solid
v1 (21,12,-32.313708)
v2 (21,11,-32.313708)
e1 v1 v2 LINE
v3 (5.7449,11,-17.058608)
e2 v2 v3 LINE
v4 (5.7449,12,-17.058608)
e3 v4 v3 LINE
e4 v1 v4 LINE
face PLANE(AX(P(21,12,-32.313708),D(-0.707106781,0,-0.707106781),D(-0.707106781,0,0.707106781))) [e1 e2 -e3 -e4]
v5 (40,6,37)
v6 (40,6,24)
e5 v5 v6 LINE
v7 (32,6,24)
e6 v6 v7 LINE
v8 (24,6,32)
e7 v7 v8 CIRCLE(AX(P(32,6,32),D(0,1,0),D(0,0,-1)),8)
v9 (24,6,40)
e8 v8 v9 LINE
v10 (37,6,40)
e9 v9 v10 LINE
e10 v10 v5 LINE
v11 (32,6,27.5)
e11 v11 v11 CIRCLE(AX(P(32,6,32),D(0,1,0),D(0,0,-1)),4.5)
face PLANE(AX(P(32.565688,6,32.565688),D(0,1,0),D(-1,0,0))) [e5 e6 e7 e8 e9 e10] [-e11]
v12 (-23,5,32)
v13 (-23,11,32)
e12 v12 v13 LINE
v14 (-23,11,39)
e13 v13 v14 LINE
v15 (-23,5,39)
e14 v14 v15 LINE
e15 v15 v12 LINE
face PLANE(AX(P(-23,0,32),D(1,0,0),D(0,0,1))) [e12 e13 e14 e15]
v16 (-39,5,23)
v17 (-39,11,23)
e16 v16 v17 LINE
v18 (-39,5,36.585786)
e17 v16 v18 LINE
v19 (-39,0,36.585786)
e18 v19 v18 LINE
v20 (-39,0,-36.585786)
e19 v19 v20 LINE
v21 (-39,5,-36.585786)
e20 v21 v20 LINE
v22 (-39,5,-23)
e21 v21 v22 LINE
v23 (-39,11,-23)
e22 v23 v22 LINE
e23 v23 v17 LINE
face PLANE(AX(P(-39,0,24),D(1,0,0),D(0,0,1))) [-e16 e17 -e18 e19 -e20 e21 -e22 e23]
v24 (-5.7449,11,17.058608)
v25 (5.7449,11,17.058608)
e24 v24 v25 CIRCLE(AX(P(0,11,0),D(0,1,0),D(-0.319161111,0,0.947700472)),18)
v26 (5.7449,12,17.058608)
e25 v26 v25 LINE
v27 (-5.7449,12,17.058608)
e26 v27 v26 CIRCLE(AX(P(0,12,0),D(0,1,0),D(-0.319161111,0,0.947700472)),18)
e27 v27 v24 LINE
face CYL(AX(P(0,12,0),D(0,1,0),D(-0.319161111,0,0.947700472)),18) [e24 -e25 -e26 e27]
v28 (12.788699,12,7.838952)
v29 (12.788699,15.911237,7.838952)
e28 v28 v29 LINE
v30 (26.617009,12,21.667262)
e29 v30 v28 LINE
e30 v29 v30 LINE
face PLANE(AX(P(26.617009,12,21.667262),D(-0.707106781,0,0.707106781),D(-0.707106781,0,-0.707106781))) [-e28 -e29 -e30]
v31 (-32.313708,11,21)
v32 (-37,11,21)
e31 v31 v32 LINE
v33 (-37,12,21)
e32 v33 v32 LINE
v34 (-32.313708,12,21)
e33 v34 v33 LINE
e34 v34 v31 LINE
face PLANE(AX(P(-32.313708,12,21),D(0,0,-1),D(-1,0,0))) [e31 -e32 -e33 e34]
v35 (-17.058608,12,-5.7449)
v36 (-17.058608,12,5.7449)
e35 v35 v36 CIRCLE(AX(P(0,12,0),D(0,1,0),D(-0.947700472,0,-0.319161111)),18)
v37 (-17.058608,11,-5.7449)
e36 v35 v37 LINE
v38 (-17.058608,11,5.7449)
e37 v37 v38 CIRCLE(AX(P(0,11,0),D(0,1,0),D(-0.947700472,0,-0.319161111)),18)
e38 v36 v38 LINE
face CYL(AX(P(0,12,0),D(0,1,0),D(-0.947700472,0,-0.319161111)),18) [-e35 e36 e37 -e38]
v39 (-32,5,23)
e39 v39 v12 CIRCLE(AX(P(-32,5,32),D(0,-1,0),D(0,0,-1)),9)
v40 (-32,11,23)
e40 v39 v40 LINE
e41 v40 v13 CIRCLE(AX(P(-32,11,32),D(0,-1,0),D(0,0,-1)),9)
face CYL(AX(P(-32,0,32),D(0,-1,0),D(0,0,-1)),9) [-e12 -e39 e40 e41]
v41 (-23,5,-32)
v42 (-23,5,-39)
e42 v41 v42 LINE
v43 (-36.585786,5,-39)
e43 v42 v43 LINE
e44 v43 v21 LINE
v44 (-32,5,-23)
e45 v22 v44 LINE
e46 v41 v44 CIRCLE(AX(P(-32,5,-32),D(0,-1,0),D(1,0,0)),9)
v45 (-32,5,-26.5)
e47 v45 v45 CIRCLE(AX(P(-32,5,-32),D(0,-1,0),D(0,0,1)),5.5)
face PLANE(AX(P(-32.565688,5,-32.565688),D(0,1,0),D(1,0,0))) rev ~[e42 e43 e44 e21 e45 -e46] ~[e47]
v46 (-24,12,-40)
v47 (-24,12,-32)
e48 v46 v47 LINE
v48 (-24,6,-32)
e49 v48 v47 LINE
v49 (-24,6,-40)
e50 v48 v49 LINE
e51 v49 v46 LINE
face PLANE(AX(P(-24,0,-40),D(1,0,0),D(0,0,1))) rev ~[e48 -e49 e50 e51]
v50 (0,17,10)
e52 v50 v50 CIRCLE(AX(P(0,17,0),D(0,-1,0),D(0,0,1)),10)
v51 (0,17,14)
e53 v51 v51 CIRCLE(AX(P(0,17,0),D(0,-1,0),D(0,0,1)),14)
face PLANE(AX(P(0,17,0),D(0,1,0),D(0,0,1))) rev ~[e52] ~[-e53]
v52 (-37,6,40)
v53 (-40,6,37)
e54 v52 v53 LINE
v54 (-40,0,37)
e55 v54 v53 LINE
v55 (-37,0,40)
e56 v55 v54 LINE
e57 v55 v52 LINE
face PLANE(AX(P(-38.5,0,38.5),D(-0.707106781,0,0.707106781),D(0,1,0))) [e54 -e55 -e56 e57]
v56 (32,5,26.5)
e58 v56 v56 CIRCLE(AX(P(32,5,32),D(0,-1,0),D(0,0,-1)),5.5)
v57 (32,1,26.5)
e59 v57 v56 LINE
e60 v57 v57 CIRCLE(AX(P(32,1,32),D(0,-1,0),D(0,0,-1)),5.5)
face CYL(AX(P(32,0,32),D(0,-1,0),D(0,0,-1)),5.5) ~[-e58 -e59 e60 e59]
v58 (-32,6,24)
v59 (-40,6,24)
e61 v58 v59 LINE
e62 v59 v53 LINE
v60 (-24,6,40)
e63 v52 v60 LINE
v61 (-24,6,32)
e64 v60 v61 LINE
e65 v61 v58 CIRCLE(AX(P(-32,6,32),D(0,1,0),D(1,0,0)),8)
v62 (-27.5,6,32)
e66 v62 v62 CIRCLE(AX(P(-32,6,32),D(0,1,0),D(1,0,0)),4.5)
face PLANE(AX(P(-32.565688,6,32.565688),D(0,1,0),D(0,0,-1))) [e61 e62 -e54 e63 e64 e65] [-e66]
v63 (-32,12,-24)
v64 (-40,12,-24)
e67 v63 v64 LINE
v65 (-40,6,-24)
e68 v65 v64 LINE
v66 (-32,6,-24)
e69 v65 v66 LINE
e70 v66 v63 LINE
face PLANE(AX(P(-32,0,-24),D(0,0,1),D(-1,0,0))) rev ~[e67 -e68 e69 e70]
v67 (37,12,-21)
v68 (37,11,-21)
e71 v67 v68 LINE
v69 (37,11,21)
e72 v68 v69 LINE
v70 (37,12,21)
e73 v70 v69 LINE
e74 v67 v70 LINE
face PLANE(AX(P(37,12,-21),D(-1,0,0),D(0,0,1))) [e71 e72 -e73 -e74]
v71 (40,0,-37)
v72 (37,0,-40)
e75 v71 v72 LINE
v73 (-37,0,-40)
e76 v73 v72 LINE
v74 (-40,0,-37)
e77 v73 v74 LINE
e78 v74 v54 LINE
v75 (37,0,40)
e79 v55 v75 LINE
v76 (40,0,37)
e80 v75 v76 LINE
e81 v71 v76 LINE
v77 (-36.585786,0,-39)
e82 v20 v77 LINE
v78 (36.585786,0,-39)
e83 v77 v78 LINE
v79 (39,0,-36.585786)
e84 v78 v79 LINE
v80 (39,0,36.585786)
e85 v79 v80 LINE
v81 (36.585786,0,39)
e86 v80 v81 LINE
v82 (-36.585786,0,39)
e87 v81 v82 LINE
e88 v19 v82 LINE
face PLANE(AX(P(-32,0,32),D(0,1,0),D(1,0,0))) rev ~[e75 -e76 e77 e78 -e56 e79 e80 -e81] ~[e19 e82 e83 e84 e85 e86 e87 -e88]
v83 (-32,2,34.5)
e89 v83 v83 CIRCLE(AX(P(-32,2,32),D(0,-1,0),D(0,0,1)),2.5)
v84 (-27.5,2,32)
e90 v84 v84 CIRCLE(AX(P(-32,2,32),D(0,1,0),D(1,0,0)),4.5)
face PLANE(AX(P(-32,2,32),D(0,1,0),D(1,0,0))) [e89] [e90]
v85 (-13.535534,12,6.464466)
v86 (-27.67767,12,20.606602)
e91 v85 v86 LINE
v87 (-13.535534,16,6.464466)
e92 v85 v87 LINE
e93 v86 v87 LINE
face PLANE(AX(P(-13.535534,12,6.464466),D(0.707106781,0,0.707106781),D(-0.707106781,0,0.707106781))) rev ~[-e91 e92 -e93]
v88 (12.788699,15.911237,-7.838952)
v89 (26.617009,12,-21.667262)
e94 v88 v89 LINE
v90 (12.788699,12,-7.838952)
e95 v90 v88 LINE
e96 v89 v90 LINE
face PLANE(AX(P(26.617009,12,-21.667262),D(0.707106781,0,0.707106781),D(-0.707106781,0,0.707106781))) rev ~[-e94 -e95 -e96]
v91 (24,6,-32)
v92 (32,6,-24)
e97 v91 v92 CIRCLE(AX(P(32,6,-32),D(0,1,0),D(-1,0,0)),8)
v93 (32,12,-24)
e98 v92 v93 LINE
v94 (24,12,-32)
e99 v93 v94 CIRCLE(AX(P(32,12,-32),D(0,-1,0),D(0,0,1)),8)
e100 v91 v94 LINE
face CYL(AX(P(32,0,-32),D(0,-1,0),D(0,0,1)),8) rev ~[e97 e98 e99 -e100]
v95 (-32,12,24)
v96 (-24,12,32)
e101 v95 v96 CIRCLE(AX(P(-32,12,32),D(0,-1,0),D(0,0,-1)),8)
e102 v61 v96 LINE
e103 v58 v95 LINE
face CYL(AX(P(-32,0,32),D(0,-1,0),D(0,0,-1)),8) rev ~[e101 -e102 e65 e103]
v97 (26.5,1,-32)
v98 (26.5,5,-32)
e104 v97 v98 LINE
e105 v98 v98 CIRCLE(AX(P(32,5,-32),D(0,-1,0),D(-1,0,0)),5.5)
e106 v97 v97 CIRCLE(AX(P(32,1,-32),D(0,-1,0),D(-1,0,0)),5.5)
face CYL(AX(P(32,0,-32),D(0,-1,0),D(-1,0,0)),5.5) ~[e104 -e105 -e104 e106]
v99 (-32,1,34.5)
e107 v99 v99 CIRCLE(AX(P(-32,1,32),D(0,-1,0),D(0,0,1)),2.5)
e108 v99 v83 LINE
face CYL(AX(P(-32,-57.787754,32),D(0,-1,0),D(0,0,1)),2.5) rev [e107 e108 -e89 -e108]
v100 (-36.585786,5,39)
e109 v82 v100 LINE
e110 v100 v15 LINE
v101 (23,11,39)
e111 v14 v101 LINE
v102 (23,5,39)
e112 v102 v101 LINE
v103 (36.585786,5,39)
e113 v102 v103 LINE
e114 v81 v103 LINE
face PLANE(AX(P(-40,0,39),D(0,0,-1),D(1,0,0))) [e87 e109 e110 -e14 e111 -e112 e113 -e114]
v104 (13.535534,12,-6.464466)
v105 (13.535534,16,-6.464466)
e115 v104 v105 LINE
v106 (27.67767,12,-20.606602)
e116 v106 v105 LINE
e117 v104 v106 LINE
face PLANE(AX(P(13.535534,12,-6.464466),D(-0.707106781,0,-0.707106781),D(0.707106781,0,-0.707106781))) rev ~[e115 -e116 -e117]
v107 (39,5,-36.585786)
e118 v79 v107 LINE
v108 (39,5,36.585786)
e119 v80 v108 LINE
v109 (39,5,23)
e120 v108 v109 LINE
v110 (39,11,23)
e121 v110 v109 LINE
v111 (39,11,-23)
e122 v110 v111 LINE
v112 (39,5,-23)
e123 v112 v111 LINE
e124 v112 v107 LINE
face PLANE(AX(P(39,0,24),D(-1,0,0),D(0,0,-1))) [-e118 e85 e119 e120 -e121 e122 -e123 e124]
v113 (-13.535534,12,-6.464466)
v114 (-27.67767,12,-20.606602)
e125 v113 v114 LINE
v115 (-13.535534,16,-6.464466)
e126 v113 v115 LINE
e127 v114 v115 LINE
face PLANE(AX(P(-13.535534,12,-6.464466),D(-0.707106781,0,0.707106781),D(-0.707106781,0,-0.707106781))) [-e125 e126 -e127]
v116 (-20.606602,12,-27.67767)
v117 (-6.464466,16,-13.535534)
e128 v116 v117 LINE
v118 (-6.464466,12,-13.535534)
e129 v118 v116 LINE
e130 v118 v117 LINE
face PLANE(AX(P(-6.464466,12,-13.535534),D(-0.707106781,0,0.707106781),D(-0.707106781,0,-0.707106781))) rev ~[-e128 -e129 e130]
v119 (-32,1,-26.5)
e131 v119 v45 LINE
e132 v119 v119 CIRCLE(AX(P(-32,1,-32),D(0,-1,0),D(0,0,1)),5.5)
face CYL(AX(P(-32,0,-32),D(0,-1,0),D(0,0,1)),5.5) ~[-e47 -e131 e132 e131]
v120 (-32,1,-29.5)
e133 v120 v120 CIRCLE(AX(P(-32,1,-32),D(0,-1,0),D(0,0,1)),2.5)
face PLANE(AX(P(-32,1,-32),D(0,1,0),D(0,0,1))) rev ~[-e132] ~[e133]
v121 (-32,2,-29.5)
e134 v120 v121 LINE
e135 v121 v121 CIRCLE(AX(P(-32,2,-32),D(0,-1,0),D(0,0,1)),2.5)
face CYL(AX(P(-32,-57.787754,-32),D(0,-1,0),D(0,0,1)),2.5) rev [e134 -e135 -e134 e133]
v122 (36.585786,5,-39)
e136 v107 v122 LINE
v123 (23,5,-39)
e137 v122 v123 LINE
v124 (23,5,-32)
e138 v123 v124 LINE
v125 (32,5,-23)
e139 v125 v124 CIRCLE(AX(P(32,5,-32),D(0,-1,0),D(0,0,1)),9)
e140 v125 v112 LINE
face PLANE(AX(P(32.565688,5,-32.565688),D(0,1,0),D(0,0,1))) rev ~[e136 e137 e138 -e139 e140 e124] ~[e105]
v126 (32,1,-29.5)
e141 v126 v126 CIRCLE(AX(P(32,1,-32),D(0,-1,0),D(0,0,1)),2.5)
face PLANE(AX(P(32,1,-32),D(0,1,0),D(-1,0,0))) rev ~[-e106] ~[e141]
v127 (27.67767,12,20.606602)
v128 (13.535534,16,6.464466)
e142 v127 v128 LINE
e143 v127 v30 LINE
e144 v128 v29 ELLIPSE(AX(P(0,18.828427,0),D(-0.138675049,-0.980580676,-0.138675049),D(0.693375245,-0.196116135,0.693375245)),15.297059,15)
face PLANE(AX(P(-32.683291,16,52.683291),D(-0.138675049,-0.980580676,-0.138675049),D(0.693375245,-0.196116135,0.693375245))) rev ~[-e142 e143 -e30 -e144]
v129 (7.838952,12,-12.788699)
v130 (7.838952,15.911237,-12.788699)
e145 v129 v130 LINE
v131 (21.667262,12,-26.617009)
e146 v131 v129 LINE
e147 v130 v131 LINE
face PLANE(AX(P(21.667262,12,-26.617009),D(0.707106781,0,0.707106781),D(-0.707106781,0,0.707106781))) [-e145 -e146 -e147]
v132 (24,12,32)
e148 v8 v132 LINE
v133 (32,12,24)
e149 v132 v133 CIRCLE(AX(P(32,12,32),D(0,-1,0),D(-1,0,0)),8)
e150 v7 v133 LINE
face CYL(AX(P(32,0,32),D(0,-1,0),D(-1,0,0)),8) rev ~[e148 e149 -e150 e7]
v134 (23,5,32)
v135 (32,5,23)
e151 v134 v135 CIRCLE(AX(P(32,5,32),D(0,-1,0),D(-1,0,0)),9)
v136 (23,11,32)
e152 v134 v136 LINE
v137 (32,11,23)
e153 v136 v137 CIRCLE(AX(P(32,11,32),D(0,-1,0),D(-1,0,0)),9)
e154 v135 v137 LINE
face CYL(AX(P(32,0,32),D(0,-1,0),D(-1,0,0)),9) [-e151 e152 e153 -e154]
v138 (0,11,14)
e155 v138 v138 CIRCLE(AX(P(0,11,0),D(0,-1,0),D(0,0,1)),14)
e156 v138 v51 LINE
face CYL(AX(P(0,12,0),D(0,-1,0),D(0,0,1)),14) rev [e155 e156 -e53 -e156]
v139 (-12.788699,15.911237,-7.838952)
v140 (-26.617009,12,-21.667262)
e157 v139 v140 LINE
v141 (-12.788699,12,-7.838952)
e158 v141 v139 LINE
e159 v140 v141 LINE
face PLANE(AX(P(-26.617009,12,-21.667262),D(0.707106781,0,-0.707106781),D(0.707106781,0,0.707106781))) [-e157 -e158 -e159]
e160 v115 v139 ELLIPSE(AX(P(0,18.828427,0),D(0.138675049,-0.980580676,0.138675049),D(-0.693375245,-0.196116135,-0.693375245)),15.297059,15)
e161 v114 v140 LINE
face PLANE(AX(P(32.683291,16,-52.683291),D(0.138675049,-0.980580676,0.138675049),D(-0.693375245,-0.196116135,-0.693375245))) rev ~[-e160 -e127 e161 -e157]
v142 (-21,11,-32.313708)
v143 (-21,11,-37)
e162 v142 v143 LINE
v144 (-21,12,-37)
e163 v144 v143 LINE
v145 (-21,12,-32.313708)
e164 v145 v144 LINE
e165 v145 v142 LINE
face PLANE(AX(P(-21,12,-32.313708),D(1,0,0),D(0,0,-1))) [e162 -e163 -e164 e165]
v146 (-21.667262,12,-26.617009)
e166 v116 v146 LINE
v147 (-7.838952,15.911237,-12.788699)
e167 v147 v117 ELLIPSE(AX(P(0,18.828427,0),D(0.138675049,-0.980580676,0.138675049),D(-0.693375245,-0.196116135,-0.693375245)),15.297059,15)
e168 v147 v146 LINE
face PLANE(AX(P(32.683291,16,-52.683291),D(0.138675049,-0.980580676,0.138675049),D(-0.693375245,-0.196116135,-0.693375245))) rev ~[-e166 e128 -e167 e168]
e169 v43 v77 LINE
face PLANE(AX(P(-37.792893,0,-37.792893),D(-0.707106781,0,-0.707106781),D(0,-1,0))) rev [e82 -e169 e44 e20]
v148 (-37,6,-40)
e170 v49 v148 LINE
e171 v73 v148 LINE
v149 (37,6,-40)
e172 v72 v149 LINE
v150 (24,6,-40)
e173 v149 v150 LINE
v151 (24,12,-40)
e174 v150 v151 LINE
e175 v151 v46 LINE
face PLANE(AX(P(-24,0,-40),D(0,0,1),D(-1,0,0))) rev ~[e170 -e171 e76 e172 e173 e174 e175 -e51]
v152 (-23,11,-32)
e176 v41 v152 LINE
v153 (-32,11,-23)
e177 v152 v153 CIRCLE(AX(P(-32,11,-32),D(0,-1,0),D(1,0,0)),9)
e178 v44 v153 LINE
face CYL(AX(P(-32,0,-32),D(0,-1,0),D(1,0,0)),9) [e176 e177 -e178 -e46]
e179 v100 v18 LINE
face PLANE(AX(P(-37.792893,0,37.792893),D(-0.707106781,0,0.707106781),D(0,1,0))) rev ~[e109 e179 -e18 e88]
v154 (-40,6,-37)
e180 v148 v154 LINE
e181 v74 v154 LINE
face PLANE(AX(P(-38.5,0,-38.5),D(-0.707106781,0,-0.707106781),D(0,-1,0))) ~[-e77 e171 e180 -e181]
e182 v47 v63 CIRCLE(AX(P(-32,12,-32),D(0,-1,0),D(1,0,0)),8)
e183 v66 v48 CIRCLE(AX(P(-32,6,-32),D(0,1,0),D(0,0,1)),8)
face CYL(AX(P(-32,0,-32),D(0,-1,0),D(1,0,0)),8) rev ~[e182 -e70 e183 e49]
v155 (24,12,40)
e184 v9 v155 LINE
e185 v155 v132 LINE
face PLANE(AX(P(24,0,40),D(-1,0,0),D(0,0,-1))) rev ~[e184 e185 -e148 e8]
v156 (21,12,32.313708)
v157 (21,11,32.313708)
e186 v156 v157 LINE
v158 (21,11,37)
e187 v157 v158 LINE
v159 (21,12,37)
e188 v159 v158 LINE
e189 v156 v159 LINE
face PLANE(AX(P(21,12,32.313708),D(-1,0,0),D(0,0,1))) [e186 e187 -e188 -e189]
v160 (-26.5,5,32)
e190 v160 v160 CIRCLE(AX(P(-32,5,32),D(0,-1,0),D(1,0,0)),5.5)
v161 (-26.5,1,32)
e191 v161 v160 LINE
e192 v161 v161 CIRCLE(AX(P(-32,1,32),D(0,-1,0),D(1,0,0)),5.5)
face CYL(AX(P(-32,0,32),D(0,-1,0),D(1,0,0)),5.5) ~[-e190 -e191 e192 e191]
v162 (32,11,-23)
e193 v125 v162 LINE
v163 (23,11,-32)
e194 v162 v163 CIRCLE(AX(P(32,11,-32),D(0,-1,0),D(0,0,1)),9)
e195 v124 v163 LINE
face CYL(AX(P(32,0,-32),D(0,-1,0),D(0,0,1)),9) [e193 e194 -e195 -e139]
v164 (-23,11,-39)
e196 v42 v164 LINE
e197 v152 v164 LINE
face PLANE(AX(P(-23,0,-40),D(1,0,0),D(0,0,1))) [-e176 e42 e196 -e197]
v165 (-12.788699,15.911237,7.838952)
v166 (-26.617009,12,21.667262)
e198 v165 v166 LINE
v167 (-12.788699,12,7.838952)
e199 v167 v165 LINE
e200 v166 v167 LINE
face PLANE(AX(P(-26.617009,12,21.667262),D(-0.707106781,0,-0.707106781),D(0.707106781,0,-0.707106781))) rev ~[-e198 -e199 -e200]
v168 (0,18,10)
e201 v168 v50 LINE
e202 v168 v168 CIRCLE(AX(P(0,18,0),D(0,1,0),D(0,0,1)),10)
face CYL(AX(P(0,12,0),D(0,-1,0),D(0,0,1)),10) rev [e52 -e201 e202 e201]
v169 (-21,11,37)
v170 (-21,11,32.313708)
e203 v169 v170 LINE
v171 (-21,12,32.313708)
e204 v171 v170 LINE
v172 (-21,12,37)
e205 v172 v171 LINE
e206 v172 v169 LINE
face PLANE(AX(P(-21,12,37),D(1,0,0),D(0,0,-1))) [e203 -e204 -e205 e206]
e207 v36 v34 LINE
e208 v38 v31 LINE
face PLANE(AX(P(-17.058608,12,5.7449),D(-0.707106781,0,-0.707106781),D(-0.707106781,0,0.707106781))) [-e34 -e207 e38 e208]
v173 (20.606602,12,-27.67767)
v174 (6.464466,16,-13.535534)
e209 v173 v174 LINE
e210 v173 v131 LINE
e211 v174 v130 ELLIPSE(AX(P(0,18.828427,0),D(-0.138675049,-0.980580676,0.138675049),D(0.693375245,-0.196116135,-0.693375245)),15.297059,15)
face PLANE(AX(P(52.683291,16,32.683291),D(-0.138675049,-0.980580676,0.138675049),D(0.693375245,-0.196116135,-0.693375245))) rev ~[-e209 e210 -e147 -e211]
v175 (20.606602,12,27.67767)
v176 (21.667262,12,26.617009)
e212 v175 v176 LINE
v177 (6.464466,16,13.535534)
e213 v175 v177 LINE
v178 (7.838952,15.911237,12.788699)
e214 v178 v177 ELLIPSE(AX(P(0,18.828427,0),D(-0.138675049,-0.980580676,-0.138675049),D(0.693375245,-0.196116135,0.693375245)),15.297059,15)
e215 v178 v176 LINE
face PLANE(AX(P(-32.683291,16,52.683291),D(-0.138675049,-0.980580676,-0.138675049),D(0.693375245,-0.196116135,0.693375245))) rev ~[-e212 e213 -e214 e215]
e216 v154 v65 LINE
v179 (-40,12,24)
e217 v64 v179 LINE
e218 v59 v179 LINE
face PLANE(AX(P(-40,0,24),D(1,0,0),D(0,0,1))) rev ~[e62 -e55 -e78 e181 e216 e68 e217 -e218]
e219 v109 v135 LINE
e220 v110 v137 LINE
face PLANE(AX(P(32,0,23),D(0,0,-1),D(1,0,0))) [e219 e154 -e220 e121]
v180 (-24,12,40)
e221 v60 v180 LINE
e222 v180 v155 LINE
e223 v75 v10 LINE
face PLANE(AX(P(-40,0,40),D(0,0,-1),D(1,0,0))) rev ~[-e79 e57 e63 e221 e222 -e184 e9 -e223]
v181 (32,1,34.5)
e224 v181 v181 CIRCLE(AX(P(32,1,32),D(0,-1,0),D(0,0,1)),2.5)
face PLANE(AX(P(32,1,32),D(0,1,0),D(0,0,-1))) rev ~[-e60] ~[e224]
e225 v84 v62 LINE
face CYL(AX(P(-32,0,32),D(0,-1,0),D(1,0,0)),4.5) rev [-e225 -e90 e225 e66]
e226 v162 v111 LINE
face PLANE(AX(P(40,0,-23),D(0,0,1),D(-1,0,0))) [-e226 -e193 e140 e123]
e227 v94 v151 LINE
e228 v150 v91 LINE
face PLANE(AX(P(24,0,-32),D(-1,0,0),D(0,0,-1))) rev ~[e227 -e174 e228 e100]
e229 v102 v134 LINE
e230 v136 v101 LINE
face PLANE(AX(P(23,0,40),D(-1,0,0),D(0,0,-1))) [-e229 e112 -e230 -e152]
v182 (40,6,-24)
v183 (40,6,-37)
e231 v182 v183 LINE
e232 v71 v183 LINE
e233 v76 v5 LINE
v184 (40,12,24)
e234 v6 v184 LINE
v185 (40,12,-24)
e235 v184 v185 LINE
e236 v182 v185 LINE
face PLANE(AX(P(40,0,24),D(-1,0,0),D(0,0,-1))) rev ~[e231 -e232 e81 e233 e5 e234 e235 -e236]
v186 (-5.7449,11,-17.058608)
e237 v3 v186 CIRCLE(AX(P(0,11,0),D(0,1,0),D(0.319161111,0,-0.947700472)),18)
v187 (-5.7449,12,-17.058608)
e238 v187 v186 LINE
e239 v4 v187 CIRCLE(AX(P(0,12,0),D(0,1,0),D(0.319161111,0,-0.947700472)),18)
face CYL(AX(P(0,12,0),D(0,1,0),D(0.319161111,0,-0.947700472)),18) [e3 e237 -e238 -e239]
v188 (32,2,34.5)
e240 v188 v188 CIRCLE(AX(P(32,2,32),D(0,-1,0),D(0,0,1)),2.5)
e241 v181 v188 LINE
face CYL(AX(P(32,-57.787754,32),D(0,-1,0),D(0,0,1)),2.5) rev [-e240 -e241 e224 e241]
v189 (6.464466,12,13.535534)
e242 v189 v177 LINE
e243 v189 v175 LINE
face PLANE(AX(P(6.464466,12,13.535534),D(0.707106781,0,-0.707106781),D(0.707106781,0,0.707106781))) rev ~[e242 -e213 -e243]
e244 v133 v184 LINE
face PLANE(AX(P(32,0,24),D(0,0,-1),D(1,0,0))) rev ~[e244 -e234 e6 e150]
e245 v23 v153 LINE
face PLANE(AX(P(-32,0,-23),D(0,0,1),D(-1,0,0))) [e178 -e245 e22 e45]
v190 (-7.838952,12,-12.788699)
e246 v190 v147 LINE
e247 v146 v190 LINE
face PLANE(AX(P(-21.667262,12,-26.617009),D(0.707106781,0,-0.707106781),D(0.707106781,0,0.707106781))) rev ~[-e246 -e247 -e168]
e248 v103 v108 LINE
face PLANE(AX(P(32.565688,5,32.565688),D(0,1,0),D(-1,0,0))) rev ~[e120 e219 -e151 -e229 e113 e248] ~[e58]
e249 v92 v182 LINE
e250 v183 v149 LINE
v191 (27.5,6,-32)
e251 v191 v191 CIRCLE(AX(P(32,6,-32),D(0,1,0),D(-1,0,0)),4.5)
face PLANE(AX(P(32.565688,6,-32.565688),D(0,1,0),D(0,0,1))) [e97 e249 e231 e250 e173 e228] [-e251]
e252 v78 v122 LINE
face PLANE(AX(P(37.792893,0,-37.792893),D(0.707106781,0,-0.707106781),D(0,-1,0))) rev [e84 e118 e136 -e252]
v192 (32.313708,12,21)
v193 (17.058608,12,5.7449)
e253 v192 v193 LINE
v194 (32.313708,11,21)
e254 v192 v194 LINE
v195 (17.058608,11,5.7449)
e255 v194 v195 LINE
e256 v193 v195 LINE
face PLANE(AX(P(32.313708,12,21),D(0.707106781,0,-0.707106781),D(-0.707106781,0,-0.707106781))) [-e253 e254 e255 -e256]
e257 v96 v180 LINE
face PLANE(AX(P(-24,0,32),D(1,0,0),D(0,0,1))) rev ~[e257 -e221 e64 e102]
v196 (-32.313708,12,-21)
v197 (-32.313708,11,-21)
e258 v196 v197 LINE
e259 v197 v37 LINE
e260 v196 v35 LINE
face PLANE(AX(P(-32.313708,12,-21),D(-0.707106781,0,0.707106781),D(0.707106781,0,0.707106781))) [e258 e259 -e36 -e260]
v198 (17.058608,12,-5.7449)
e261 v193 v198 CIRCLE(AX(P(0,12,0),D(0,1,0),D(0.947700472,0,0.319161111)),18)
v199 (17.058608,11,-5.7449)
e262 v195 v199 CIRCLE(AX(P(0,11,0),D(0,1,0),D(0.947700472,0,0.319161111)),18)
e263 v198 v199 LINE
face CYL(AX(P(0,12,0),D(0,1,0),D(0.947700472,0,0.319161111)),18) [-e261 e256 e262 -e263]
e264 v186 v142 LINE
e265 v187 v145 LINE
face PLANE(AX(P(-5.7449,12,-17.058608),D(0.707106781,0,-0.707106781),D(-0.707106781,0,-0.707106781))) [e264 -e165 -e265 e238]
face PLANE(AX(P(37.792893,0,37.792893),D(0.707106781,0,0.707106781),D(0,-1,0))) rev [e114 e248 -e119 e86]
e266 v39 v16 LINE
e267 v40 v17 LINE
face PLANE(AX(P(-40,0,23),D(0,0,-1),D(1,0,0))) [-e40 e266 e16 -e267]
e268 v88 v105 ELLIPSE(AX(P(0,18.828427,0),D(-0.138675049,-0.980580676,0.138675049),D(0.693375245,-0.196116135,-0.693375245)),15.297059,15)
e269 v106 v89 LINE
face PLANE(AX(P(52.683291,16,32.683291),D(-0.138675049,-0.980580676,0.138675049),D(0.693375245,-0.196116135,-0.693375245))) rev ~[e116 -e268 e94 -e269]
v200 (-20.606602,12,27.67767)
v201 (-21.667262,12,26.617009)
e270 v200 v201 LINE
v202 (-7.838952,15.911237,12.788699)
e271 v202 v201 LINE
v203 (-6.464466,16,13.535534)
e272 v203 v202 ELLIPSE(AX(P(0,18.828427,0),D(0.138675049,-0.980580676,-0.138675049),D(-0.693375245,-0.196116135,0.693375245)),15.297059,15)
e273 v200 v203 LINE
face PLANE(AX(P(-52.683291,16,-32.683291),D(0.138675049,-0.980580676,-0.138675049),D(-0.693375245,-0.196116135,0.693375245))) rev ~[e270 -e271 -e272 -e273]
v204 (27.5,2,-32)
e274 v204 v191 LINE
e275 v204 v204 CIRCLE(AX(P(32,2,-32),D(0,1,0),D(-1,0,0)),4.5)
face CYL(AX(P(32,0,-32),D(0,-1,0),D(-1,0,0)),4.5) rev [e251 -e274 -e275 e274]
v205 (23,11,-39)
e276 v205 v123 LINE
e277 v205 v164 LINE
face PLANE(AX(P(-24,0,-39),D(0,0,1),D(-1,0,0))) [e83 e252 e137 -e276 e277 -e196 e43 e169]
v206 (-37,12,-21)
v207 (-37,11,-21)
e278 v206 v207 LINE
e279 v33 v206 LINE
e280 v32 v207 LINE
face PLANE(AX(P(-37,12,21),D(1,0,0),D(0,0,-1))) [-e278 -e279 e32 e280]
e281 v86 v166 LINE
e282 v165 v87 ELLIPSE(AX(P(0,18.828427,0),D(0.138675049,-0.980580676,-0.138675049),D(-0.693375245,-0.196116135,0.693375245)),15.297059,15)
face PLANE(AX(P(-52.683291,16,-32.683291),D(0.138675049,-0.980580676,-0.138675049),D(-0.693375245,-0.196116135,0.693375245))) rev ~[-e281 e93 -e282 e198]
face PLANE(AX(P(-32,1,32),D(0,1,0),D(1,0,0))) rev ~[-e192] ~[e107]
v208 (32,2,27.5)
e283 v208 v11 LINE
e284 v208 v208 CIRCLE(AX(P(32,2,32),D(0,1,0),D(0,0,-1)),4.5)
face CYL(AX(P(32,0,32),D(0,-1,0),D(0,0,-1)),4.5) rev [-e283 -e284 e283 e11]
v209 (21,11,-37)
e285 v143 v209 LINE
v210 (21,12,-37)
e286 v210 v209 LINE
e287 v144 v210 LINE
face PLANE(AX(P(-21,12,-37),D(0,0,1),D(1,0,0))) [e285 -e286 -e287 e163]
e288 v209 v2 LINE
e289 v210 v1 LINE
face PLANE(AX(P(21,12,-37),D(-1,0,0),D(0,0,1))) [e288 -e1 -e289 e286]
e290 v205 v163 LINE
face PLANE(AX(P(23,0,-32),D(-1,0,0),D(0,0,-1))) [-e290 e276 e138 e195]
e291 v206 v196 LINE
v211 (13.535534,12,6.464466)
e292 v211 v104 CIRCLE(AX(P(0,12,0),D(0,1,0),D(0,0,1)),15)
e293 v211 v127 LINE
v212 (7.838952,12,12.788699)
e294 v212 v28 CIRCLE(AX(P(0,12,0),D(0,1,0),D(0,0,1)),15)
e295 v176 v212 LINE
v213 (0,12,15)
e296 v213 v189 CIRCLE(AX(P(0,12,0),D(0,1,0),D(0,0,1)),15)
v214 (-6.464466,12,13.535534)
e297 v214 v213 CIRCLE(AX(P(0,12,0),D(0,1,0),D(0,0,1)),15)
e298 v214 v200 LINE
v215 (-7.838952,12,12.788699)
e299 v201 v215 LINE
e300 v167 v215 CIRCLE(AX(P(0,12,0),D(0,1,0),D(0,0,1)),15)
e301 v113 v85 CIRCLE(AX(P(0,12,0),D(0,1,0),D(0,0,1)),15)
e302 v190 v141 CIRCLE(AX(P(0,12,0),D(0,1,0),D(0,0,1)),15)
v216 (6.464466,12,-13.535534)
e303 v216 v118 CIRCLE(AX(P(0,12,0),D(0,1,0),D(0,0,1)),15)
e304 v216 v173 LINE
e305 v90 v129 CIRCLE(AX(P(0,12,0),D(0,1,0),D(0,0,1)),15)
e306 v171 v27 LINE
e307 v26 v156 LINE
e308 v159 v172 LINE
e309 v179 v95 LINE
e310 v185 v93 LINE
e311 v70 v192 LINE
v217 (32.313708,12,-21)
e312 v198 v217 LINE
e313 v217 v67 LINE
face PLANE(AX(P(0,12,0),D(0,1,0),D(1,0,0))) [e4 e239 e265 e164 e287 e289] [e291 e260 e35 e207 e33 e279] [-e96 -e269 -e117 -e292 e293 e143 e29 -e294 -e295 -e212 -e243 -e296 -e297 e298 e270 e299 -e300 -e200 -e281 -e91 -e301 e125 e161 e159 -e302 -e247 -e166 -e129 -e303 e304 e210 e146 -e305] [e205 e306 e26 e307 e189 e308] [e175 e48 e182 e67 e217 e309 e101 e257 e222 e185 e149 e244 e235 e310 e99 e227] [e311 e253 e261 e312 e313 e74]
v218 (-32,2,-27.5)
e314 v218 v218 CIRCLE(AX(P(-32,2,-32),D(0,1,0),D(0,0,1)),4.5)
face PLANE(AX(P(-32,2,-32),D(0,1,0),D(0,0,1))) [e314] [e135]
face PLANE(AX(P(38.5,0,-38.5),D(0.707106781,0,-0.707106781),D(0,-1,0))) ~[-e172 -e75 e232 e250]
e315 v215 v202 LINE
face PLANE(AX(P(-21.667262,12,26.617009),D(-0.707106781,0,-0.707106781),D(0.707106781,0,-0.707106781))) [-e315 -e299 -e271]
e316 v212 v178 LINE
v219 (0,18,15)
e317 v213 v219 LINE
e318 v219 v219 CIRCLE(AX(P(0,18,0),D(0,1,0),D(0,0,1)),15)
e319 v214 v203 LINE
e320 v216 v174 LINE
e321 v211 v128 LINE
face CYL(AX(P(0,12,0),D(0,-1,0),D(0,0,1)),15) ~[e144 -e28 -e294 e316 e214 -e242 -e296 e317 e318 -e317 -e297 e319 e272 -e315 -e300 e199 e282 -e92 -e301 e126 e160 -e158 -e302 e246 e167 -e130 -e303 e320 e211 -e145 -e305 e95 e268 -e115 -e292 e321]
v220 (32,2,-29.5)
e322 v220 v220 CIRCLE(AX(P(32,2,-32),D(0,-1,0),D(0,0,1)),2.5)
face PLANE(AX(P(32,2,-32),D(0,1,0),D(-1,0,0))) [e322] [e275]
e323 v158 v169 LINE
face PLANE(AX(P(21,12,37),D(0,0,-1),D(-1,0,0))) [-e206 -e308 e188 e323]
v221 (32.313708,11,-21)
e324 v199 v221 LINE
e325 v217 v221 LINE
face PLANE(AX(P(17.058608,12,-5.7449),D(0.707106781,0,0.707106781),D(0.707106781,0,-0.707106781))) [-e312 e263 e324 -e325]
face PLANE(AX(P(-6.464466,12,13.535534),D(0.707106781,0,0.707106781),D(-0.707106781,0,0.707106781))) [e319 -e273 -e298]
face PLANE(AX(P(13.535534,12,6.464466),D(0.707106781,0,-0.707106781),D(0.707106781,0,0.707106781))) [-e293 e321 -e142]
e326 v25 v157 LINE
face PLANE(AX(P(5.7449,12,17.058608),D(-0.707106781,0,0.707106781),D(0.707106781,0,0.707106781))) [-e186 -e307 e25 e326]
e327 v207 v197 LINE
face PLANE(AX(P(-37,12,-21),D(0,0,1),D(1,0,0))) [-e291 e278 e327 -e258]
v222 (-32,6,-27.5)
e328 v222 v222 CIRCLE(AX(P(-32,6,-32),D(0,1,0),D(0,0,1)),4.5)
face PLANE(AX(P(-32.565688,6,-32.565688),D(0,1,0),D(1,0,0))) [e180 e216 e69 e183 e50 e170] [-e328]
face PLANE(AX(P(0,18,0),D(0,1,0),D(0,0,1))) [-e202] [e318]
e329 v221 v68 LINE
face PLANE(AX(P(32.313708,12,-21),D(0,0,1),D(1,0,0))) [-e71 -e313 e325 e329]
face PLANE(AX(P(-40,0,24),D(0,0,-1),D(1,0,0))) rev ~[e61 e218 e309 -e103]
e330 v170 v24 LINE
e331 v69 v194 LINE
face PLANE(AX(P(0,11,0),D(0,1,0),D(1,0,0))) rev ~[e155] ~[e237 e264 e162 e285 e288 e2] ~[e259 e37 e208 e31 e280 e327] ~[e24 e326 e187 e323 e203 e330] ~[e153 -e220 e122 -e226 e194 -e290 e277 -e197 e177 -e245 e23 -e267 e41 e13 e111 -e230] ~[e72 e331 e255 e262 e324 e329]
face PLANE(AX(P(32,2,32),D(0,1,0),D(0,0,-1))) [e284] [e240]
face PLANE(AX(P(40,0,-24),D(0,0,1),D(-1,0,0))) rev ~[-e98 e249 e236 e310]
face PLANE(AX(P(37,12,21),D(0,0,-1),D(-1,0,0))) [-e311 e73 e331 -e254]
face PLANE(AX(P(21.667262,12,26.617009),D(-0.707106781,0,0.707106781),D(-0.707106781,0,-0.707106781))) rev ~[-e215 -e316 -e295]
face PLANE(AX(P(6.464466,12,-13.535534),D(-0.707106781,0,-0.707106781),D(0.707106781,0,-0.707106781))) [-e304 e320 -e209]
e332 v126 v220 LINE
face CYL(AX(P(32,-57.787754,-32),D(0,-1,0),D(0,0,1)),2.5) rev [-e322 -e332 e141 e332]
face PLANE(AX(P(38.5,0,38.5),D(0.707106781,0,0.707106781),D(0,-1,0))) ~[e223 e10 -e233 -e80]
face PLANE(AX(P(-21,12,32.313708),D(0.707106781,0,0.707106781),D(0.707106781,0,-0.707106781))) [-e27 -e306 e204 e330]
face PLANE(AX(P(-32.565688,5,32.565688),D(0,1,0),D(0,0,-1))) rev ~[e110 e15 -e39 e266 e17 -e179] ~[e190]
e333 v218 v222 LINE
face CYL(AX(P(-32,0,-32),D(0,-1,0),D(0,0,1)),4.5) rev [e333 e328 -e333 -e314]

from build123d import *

# Parameters (mm, degrees)
SKETCH1_R               = 10
BOSS_EXTRUDE1_DEPTH     = 12
SKETCH2_R               = 15
SKETCH2_R_2             = 10
BOSS_EXTRUDE2_DEPTH     = 6
CUT_EXTRUDE1_DEPTH      = 58.827329179
CIRPATTERN1_COUNT       = 4
SKETCH1_4_R             = 4.5
BOSS_EXTRUDE3_DEPTH     = 6
SKETCH1_5_R             = 4.5
SKETCH1_5_R_2           = 3.5
SKETCH1_5_R_3           = 2.5
BOSS_EXTRUDE4_DEPTH     = 2
CIRPATTERN2_COUNT       = 4
CHAMFER3_SIZE           = 3
SHELL1_T                = -1
CUT_EXTRUDE3_START      = -11
SKETCH9_R               = 11
CUT_EXTRUDE3_DEPTH      = 11
SKETCH10_R              = 11
CUT_EXTRUDE4_DEPTH      = 6
BOSS_EXTRUDE5_DEPTH     = 6
BOSS_EXTRUDE5_2_DEPTH   = 6
CUT_EXTRUDE7_DEPTH      = 60.363288319
CUT_EXTRUDE7_DEPTH_BACK = 60.363288319
SKETCH14_OUTSIDE_W      = 138.05
SKETCH14_OUTSIDE_H      = 42.912
CIRPATTERN5_COUNT       = 4
CUT_EXTRUDE8_DEPTH      = 59.787753827
CUT_EXTRUDE8_DEPTH_BACK = 59.787753827
SKETCH15_R              = 2.5


with BuildPart() as part:
    # Sketch1 → Boss-Extrude1 (new body)
    with BuildSketch(Plane(origin=(0, 0, 0), x_dir=(1, 0, 0), z_dir=(0, 1, 0))):
        with BuildLine():
            Line((24, 40), (-24, 40))
            Line((-24, 40), (-24, 32))
            ThreePointArc((-24, 32), (-26.343145751, 26.343145751), (-32, 24))
            Line((-32, 24), (-40, 24))
            Line((-40, 24), (-40, -24))
            Line((-40, -24), (-32, -24))
            ThreePointArc((-32, -24), (-26.343145751, -26.343145751), (-24, -32))
            Line((-24, -32), (-24, -40))
            Line((-24, -40), (24, -40))
            Line((24, -40), (24, -32))
            ThreePointArc((24, -32), (26.343145751, -26.343145751), (32, -24))
            Line((32, -24), (40, -24))
            Line((40, -24), (40, 24))
            Line((40, 24), (32, 24))
            ThreePointArc((32, 24), (26.343145751, 26.343145751), (24, 32))
            Line((24, 32), (24, 40))
        make_face()
        with Locations(Location((0, 0, 0), (0, 0, 270))):
            Circle(SKETCH1_R, mode=Mode.SUBTRACT)
    extrude(amount=BOSS_EXTRUDE1_DEPTH)

    # Sketch2 → Boss-Extrude2 (add)
    with BuildSketch(Plane(origin=(0, 12, 0), x_dir=(1, 0, 0), z_dir=(0, 1, 0))):
        with Locations(Location((0, 0, 0), (0, 0, 270))):
            Circle(SKETCH2_R)
        with Locations(Location((0, 0, 0), (0, 0, 270))):
            Circle(SKETCH2_R_2, mode=Mode.SUBTRACT)
    extrude(amount=BOSS_EXTRUDE2_DEPTH)

    # Sketch3 → Cut-Extrude1 (cut, through all)
    with BuildSketch(Plane(origin=(0, 12, 0), x_dir=(1, 0, 0), z_dir=(0, 1, 0))):
        with BuildLine():
            Line((21, -37), (-21, -37))
            Line((-21, -37), (-21, -32.313708499))
            Line((-21, -32.313708499), (-5.744900001, -17.0586085))
            ThreePointArc((-5.744900001, -17.0586085), (0, -18), (5.744900001, -17.0586085))
            Line((5.744900001, -17.0586085), (21, -32.313708499))
            Line((21, -32.313708499), (21, -37))
        make_face()
    cut_extrude1 = extrude(amount=-CUT_EXTRUDE1_DEPTH, mode=Mode.SUBTRACT)

    # CirPattern1: Cut-Extrude1 ×4 about axis
    cirpattern1_axis = Axis((0, 0, 0), (0, 1, 0))
    for i in range(1, CIRPATTERN1_COUNT):
        add(cut_extrude1.rotate(cirpattern1_axis, i * 360 / CIRPATTERN1_COUNT), mode=Mode.SUBTRACT)

    # Sketch1<4> → Boss-Extrude3 (add)
    with BuildSketch(Plane(origin=(0, 0, 0), x_dir=(1, 0, 0), z_dir=(0, 1, 0))):
        with BuildLine():
            Line((-24, 32), (-24, 40))
            Line((-24, 40), (-40, 40))
            Line((-40, 40), (-40, 24))
            Line((-40, 24), (-32, 24))
            ThreePointArc((-32, 24), (-26.343145751, 26.343145751), (-24, 32))
        make_face()
        with Locations(Location((-32, 32, 0), (0, 0, 270))):
            Circle(SKETCH1_4_R, mode=Mode.SUBTRACT)
    boss_extrude3 = extrude(amount=BOSS_EXTRUDE3_DEPTH)

    # Sketch1<5> → Boss-Extrude4 (add)
    # profile 1 of 3: a face of its own
    with BuildSketch(Plane(origin=(0, 0, 0), x_dir=(1, 0, 0), z_dir=(0, 1, 0))):
        with Locations(Location((-32, 32, 0), (0, 0, 270))):
            Circle(SKETCH1_5_R)
        with Locations((-32, 32)):
            Circle(SKETCH1_5_R_2, mode=Mode.SUBTRACT)
    # profile 2 of 3: a face of its own
    with BuildSketch(Plane(origin=(0, 0, 0), x_dir=(1, 0, 0), z_dir=(0, 1, 0))):
        with Locations((-32, 32)):
            Circle(SKETCH1_5_R_2)
        with Locations((-32, 32)):
            Circle(SKETCH1_5_R_3, mode=Mode.SUBTRACT)
    # profile 3 of 3: a face of its own
    with BuildSketch(Plane(origin=(0, 0, 0), x_dir=(1, 0, 0), z_dir=(0, 1, 0))):
        with Locations((-32, 32)):
            Circle(SKETCH1_5_R_3)
    boss_extrude4 = extrude(amount=BOSS_EXTRUDE4_DEPTH)

    # CirPattern2: Boss-Extrude3, Boss-Extrude4 ×4 about axis
    cirpattern2_axis = Axis((0, 0, 0), (0, 1, 0))
    add([boss_extrude3.rotate(cirpattern2_axis, i * 360 / CIRPATTERN2_COUNT) for i in range(1, CIRPATTERN2_COUNT)])
    add([boss_extrude4.rotate(cirpattern2_axis, i * 360 / CIRPATTERN2_COUNT) for i in range(1, CIRPATTERN2_COUNT)])

    # Chamfer3
    chamfer3_edges = [part.edges().sort_by_distance(p)[0] for p in [
        (-40, 3, -40),
        (40, 3, -40),
        (40, 3, 40),
        (-40, 3, 40),
    ]]
    chamfer(chamfer3_edges, length=CHAMFER3_SIZE)

    # Shell1
    shell1_openings = [part.faces().sort_by_distance(p)[0] for p in [
        (0, 0, -28.947670916),
    ]]
    offset(amount=SHELL1_T, openings=shell1_openings, kind=Kind.INTERSECTION)

    # Sketch9 → Cut-Extrude3 (cut)
    with BuildSketch(Plane.XZ.offset(CUT_EXTRUDE3_START)):
        with Locations(Location((0, 0, 0), (0, 0, 90))):
            Circle(SKETCH9_R)
        with BuildLine():
            Line((22, 38), (-22, 38))
            Line((-22, 38), (-22, 31.899494937))
            Line((-22, 31.899494937), (-6.004703682, 15.904198618))
            ThreePointArc((-6.004703682, 15.904198618), (0, 17), (6.004703682, 15.904198618))
            Line((6.004703682, 15.904198618), (22, 31.899494937))
            Line((22, 31.899494937), (22, 38))
        make_face()
        with BuildLine():
            Line((-38, 22), (-38, -22))
            Line((-38, -22), (-31.899494937, -22))
            Line((-31.899494937, -22), (-15.904198618, -6.004703682))
            ThreePointArc((-15.904198618, -6.004703682), (-17, 0), (-15.904198618, 6.004703682))
            Line((-15.904198618, 6.004703682), (-31.899494937, 22))
            Line((-31.899494937, 22), (-38, 22))
        make_face()
        with BuildLine():
            Line((-22, -38), (22, -38))
            Line((22, -38), (22, -31.899494937))
            Line((22, -31.899494937), (6.004703682, -15.904198618))
            ThreePointArc((6.004703682, -15.904198618), (0, -17), (-6.004703682, -15.904198618))
            Line((-6.004703682, -15.904198618), (-22, -31.899494937))
            Line((-22, -31.899494937), (-22, -38))
        make_face()
        with BuildLine():
            Line((38, -22), (38, 22))
            Line((38, 22), (31.899494937, 22))
            Line((31.899494937, 22), (15.904198618, 6.004703682))
            ThreePointArc((15.904198618, 6.004703682), (17, 0), (15.904198618, -6.004703682))
            Line((15.904198618, -6.004703682), (31.899494937, -22))
            Line((31.899494937, -22), (38, -22))
        make_face()
    extrude(amount=CUT_EXTRUDE3_DEPTH, mode=Mode.SUBTRACT)

    # Sketch10 → Cut-Extrude4 (cut)
    with BuildSketch(Plane.XZ.offset(-11)):
        Circle(SKETCH10_R)
    extrude(amount=-CUT_EXTRUDE4_DEPTH, mode=Mode.SUBTRACT)

    # Sketch15 → Cut-Extrude8 (cut, two sides: drawn at the far end of the back side and taken through both)
    with BuildSketch(Plane(origin=(0, 2, 0), x_dir=(1, 0, 0), z_dir=(0, 1, 0)).offset(-CUT_EXTRUDE8_DEPTH_BACK)):
        with Locations(Location((-32, -32, 0), (0, 0, 270))):
            Circle(SKETCH15_R)
        with Locations(Location((-32, 32, 0), (0, 0, 270))):
            Circle(SKETCH15_R)
        with Locations(Location((32, 32, 0), (0, 0, 270))):
            Circle(SKETCH15_R)
        with Locations(Location((32, -32, 0), (0, 0, 270))):
            Circle(SKETCH15_R)
    extrude(amount=CUT_EXTRUDE8_DEPTH + CUT_EXTRUDE8_DEPTH_BACK, mode=Mode.SUBTRACT)


with BuildPart() as body_2:
    # Sketch12 → Boss-Extrude5 (new body)
    with BuildSketch(Plane(origin=(0, 12, 0), x_dir=(1, 0, 0), z_dir=(0, 1, 0))):
        with BuildLine():
            Line((-6.464466094, -13.535533906), (-20.606601718, -27.67766953))
            Line((-20.606601718, -27.67766953), (-21.66726189, -26.617009358))
            Line((-21.66726189, -26.617009358), (-7.838951938, -12.788699407))
            ThreePointArc((-7.838951938, -12.788699407), (-7.16145113, -13.180046195), (-6.464466094, -13.535533906))
        make_face()
    extrude(amount=BOSS_EXTRUDE5_DEPTH)


with BuildPart() as body_3:
    # Sketch12 → Boss-Extrude5 2 (new body)
    with BuildSketch(Plane(origin=(0, 12, 0), x_dir=(1, 0, 0), z_dir=(0, 1, 0))):
        with BuildLine():
            Line((-13.535533906, -6.464466094), (-27.67766953, -20.606601718))
            Line((-27.67766953, -20.606601718), (-26.617009358, -21.66726189))
            Line((-26.617009358, -21.66726189), (-12.788699407, -7.838951938))
            ThreePointArc((-12.788699407, -7.838951938), (-13.180046195, -7.16145113), (-13.535533906, -6.464466094))
        make_face()
    extrude(amount=BOSS_EXTRUDE5_2_DEPTH)


with BuildPart() as cut_extrude7_tool:
    # Sketch14 outside → Cut-Extrude7 (new, two sides: drawn at the far end of the back side and taken through both)
    with BuildSketch(Plane(origin=(0, 0, 0), x_dir=(0.7071067811865476, 0, -0.7071067811865476), z_dir=(0.7071067811865476, 0, 0.7071067811865476)).offset(-CUT_EXTRUDE7_DEPTH_BACK)):
        with Locations((0, 9)):
            Rectangle(SKETCH14_OUTSIDE_W, SKETCH14_OUTSIDE_H)
        Polygon((-14.142135624, 16), (-34.142135624, 12), (-14.142135624, 12), align=None, mode=Mode.SUBTRACT)
    extrude(amount=CUT_EXTRUDE7_DEPTH + CUT_EXTRUDE7_DEPTH_BACK)


with BuildPart() as body_3_1:
    add(body_3.part)

    # Cut-Extrude7: cut by cut_extrude7_tool
    add(cut_extrude7_tool.part, mode=Mode.SUBTRACT)


with BuildPart() as body_2_1:
    add(body_2.part)

    # Cut-Extrude7: cut by cut_extrude7_tool
    add(cut_extrude7_tool.part, mode=Mode.SUBTRACT)


with BuildPart() as cirpattern5_1:
    # CirPattern5: pattern copy
    add(body_2_1.part.rotate(Axis((0, 0, 0), (0, 1, 0)), 1 * 360 / CIRPATTERN5_COUNT))


with BuildPart() as cirpattern5_2:
    # CirPattern5: pattern copy
    add(body_2_1.part.rotate(Axis((0, 0, 0), (0, 1, 0)), 2 * 360 / CIRPATTERN5_COUNT))


with BuildPart() as cirpattern5_3:
    # CirPattern5: pattern copy
    add(body_2_1.part.rotate(Axis((0, 0, 0), (0, 1, 0)), 3 * 360 / CIRPATTERN5_COUNT))


with BuildPart() as cirpattern5_4:
    # CirPattern5: pattern copy
    add(body_3_1.part.rotate(Axis((0, 0, 0), (0, 1, 0)), 1 * 360 / CIRPATTERN5_COUNT))


with BuildPart() as cirpattern5_5:
    # CirPattern5: pattern copy
    add(body_3_1.part.rotate(Axis((0, 0, 0), (0, 1, 0)), 2 * 360 / CIRPATTERN5_COUNT))


with BuildPart() as cirpattern5_6:
    # CirPattern5: pattern copy
    add(body_3_1.part.rotate(Axis((0, 0, 0), (0, 1, 0)), 3 * 360 / CIRPATTERN5_COUNT))


with BuildPart() as cirpattern5_5_1:
    add(cirpattern5_5.part)

    # Combine1: union CirPattern5_3, body 2, CirPattern5_1, CirPattern5_6, body 3, CirPattern5_4, part, CirPattern5_2
    add(cirpattern5_3.part)
    add(body_2_1.part)
    add(cirpattern5_1.part)
    add(cirpattern5_6.part)
    add(body_3_1.part)
    add(cirpattern5_4.part)
    add(part.part)
    add(cirpattern5_2.part)


solid = cirpattern5_5_1.part
